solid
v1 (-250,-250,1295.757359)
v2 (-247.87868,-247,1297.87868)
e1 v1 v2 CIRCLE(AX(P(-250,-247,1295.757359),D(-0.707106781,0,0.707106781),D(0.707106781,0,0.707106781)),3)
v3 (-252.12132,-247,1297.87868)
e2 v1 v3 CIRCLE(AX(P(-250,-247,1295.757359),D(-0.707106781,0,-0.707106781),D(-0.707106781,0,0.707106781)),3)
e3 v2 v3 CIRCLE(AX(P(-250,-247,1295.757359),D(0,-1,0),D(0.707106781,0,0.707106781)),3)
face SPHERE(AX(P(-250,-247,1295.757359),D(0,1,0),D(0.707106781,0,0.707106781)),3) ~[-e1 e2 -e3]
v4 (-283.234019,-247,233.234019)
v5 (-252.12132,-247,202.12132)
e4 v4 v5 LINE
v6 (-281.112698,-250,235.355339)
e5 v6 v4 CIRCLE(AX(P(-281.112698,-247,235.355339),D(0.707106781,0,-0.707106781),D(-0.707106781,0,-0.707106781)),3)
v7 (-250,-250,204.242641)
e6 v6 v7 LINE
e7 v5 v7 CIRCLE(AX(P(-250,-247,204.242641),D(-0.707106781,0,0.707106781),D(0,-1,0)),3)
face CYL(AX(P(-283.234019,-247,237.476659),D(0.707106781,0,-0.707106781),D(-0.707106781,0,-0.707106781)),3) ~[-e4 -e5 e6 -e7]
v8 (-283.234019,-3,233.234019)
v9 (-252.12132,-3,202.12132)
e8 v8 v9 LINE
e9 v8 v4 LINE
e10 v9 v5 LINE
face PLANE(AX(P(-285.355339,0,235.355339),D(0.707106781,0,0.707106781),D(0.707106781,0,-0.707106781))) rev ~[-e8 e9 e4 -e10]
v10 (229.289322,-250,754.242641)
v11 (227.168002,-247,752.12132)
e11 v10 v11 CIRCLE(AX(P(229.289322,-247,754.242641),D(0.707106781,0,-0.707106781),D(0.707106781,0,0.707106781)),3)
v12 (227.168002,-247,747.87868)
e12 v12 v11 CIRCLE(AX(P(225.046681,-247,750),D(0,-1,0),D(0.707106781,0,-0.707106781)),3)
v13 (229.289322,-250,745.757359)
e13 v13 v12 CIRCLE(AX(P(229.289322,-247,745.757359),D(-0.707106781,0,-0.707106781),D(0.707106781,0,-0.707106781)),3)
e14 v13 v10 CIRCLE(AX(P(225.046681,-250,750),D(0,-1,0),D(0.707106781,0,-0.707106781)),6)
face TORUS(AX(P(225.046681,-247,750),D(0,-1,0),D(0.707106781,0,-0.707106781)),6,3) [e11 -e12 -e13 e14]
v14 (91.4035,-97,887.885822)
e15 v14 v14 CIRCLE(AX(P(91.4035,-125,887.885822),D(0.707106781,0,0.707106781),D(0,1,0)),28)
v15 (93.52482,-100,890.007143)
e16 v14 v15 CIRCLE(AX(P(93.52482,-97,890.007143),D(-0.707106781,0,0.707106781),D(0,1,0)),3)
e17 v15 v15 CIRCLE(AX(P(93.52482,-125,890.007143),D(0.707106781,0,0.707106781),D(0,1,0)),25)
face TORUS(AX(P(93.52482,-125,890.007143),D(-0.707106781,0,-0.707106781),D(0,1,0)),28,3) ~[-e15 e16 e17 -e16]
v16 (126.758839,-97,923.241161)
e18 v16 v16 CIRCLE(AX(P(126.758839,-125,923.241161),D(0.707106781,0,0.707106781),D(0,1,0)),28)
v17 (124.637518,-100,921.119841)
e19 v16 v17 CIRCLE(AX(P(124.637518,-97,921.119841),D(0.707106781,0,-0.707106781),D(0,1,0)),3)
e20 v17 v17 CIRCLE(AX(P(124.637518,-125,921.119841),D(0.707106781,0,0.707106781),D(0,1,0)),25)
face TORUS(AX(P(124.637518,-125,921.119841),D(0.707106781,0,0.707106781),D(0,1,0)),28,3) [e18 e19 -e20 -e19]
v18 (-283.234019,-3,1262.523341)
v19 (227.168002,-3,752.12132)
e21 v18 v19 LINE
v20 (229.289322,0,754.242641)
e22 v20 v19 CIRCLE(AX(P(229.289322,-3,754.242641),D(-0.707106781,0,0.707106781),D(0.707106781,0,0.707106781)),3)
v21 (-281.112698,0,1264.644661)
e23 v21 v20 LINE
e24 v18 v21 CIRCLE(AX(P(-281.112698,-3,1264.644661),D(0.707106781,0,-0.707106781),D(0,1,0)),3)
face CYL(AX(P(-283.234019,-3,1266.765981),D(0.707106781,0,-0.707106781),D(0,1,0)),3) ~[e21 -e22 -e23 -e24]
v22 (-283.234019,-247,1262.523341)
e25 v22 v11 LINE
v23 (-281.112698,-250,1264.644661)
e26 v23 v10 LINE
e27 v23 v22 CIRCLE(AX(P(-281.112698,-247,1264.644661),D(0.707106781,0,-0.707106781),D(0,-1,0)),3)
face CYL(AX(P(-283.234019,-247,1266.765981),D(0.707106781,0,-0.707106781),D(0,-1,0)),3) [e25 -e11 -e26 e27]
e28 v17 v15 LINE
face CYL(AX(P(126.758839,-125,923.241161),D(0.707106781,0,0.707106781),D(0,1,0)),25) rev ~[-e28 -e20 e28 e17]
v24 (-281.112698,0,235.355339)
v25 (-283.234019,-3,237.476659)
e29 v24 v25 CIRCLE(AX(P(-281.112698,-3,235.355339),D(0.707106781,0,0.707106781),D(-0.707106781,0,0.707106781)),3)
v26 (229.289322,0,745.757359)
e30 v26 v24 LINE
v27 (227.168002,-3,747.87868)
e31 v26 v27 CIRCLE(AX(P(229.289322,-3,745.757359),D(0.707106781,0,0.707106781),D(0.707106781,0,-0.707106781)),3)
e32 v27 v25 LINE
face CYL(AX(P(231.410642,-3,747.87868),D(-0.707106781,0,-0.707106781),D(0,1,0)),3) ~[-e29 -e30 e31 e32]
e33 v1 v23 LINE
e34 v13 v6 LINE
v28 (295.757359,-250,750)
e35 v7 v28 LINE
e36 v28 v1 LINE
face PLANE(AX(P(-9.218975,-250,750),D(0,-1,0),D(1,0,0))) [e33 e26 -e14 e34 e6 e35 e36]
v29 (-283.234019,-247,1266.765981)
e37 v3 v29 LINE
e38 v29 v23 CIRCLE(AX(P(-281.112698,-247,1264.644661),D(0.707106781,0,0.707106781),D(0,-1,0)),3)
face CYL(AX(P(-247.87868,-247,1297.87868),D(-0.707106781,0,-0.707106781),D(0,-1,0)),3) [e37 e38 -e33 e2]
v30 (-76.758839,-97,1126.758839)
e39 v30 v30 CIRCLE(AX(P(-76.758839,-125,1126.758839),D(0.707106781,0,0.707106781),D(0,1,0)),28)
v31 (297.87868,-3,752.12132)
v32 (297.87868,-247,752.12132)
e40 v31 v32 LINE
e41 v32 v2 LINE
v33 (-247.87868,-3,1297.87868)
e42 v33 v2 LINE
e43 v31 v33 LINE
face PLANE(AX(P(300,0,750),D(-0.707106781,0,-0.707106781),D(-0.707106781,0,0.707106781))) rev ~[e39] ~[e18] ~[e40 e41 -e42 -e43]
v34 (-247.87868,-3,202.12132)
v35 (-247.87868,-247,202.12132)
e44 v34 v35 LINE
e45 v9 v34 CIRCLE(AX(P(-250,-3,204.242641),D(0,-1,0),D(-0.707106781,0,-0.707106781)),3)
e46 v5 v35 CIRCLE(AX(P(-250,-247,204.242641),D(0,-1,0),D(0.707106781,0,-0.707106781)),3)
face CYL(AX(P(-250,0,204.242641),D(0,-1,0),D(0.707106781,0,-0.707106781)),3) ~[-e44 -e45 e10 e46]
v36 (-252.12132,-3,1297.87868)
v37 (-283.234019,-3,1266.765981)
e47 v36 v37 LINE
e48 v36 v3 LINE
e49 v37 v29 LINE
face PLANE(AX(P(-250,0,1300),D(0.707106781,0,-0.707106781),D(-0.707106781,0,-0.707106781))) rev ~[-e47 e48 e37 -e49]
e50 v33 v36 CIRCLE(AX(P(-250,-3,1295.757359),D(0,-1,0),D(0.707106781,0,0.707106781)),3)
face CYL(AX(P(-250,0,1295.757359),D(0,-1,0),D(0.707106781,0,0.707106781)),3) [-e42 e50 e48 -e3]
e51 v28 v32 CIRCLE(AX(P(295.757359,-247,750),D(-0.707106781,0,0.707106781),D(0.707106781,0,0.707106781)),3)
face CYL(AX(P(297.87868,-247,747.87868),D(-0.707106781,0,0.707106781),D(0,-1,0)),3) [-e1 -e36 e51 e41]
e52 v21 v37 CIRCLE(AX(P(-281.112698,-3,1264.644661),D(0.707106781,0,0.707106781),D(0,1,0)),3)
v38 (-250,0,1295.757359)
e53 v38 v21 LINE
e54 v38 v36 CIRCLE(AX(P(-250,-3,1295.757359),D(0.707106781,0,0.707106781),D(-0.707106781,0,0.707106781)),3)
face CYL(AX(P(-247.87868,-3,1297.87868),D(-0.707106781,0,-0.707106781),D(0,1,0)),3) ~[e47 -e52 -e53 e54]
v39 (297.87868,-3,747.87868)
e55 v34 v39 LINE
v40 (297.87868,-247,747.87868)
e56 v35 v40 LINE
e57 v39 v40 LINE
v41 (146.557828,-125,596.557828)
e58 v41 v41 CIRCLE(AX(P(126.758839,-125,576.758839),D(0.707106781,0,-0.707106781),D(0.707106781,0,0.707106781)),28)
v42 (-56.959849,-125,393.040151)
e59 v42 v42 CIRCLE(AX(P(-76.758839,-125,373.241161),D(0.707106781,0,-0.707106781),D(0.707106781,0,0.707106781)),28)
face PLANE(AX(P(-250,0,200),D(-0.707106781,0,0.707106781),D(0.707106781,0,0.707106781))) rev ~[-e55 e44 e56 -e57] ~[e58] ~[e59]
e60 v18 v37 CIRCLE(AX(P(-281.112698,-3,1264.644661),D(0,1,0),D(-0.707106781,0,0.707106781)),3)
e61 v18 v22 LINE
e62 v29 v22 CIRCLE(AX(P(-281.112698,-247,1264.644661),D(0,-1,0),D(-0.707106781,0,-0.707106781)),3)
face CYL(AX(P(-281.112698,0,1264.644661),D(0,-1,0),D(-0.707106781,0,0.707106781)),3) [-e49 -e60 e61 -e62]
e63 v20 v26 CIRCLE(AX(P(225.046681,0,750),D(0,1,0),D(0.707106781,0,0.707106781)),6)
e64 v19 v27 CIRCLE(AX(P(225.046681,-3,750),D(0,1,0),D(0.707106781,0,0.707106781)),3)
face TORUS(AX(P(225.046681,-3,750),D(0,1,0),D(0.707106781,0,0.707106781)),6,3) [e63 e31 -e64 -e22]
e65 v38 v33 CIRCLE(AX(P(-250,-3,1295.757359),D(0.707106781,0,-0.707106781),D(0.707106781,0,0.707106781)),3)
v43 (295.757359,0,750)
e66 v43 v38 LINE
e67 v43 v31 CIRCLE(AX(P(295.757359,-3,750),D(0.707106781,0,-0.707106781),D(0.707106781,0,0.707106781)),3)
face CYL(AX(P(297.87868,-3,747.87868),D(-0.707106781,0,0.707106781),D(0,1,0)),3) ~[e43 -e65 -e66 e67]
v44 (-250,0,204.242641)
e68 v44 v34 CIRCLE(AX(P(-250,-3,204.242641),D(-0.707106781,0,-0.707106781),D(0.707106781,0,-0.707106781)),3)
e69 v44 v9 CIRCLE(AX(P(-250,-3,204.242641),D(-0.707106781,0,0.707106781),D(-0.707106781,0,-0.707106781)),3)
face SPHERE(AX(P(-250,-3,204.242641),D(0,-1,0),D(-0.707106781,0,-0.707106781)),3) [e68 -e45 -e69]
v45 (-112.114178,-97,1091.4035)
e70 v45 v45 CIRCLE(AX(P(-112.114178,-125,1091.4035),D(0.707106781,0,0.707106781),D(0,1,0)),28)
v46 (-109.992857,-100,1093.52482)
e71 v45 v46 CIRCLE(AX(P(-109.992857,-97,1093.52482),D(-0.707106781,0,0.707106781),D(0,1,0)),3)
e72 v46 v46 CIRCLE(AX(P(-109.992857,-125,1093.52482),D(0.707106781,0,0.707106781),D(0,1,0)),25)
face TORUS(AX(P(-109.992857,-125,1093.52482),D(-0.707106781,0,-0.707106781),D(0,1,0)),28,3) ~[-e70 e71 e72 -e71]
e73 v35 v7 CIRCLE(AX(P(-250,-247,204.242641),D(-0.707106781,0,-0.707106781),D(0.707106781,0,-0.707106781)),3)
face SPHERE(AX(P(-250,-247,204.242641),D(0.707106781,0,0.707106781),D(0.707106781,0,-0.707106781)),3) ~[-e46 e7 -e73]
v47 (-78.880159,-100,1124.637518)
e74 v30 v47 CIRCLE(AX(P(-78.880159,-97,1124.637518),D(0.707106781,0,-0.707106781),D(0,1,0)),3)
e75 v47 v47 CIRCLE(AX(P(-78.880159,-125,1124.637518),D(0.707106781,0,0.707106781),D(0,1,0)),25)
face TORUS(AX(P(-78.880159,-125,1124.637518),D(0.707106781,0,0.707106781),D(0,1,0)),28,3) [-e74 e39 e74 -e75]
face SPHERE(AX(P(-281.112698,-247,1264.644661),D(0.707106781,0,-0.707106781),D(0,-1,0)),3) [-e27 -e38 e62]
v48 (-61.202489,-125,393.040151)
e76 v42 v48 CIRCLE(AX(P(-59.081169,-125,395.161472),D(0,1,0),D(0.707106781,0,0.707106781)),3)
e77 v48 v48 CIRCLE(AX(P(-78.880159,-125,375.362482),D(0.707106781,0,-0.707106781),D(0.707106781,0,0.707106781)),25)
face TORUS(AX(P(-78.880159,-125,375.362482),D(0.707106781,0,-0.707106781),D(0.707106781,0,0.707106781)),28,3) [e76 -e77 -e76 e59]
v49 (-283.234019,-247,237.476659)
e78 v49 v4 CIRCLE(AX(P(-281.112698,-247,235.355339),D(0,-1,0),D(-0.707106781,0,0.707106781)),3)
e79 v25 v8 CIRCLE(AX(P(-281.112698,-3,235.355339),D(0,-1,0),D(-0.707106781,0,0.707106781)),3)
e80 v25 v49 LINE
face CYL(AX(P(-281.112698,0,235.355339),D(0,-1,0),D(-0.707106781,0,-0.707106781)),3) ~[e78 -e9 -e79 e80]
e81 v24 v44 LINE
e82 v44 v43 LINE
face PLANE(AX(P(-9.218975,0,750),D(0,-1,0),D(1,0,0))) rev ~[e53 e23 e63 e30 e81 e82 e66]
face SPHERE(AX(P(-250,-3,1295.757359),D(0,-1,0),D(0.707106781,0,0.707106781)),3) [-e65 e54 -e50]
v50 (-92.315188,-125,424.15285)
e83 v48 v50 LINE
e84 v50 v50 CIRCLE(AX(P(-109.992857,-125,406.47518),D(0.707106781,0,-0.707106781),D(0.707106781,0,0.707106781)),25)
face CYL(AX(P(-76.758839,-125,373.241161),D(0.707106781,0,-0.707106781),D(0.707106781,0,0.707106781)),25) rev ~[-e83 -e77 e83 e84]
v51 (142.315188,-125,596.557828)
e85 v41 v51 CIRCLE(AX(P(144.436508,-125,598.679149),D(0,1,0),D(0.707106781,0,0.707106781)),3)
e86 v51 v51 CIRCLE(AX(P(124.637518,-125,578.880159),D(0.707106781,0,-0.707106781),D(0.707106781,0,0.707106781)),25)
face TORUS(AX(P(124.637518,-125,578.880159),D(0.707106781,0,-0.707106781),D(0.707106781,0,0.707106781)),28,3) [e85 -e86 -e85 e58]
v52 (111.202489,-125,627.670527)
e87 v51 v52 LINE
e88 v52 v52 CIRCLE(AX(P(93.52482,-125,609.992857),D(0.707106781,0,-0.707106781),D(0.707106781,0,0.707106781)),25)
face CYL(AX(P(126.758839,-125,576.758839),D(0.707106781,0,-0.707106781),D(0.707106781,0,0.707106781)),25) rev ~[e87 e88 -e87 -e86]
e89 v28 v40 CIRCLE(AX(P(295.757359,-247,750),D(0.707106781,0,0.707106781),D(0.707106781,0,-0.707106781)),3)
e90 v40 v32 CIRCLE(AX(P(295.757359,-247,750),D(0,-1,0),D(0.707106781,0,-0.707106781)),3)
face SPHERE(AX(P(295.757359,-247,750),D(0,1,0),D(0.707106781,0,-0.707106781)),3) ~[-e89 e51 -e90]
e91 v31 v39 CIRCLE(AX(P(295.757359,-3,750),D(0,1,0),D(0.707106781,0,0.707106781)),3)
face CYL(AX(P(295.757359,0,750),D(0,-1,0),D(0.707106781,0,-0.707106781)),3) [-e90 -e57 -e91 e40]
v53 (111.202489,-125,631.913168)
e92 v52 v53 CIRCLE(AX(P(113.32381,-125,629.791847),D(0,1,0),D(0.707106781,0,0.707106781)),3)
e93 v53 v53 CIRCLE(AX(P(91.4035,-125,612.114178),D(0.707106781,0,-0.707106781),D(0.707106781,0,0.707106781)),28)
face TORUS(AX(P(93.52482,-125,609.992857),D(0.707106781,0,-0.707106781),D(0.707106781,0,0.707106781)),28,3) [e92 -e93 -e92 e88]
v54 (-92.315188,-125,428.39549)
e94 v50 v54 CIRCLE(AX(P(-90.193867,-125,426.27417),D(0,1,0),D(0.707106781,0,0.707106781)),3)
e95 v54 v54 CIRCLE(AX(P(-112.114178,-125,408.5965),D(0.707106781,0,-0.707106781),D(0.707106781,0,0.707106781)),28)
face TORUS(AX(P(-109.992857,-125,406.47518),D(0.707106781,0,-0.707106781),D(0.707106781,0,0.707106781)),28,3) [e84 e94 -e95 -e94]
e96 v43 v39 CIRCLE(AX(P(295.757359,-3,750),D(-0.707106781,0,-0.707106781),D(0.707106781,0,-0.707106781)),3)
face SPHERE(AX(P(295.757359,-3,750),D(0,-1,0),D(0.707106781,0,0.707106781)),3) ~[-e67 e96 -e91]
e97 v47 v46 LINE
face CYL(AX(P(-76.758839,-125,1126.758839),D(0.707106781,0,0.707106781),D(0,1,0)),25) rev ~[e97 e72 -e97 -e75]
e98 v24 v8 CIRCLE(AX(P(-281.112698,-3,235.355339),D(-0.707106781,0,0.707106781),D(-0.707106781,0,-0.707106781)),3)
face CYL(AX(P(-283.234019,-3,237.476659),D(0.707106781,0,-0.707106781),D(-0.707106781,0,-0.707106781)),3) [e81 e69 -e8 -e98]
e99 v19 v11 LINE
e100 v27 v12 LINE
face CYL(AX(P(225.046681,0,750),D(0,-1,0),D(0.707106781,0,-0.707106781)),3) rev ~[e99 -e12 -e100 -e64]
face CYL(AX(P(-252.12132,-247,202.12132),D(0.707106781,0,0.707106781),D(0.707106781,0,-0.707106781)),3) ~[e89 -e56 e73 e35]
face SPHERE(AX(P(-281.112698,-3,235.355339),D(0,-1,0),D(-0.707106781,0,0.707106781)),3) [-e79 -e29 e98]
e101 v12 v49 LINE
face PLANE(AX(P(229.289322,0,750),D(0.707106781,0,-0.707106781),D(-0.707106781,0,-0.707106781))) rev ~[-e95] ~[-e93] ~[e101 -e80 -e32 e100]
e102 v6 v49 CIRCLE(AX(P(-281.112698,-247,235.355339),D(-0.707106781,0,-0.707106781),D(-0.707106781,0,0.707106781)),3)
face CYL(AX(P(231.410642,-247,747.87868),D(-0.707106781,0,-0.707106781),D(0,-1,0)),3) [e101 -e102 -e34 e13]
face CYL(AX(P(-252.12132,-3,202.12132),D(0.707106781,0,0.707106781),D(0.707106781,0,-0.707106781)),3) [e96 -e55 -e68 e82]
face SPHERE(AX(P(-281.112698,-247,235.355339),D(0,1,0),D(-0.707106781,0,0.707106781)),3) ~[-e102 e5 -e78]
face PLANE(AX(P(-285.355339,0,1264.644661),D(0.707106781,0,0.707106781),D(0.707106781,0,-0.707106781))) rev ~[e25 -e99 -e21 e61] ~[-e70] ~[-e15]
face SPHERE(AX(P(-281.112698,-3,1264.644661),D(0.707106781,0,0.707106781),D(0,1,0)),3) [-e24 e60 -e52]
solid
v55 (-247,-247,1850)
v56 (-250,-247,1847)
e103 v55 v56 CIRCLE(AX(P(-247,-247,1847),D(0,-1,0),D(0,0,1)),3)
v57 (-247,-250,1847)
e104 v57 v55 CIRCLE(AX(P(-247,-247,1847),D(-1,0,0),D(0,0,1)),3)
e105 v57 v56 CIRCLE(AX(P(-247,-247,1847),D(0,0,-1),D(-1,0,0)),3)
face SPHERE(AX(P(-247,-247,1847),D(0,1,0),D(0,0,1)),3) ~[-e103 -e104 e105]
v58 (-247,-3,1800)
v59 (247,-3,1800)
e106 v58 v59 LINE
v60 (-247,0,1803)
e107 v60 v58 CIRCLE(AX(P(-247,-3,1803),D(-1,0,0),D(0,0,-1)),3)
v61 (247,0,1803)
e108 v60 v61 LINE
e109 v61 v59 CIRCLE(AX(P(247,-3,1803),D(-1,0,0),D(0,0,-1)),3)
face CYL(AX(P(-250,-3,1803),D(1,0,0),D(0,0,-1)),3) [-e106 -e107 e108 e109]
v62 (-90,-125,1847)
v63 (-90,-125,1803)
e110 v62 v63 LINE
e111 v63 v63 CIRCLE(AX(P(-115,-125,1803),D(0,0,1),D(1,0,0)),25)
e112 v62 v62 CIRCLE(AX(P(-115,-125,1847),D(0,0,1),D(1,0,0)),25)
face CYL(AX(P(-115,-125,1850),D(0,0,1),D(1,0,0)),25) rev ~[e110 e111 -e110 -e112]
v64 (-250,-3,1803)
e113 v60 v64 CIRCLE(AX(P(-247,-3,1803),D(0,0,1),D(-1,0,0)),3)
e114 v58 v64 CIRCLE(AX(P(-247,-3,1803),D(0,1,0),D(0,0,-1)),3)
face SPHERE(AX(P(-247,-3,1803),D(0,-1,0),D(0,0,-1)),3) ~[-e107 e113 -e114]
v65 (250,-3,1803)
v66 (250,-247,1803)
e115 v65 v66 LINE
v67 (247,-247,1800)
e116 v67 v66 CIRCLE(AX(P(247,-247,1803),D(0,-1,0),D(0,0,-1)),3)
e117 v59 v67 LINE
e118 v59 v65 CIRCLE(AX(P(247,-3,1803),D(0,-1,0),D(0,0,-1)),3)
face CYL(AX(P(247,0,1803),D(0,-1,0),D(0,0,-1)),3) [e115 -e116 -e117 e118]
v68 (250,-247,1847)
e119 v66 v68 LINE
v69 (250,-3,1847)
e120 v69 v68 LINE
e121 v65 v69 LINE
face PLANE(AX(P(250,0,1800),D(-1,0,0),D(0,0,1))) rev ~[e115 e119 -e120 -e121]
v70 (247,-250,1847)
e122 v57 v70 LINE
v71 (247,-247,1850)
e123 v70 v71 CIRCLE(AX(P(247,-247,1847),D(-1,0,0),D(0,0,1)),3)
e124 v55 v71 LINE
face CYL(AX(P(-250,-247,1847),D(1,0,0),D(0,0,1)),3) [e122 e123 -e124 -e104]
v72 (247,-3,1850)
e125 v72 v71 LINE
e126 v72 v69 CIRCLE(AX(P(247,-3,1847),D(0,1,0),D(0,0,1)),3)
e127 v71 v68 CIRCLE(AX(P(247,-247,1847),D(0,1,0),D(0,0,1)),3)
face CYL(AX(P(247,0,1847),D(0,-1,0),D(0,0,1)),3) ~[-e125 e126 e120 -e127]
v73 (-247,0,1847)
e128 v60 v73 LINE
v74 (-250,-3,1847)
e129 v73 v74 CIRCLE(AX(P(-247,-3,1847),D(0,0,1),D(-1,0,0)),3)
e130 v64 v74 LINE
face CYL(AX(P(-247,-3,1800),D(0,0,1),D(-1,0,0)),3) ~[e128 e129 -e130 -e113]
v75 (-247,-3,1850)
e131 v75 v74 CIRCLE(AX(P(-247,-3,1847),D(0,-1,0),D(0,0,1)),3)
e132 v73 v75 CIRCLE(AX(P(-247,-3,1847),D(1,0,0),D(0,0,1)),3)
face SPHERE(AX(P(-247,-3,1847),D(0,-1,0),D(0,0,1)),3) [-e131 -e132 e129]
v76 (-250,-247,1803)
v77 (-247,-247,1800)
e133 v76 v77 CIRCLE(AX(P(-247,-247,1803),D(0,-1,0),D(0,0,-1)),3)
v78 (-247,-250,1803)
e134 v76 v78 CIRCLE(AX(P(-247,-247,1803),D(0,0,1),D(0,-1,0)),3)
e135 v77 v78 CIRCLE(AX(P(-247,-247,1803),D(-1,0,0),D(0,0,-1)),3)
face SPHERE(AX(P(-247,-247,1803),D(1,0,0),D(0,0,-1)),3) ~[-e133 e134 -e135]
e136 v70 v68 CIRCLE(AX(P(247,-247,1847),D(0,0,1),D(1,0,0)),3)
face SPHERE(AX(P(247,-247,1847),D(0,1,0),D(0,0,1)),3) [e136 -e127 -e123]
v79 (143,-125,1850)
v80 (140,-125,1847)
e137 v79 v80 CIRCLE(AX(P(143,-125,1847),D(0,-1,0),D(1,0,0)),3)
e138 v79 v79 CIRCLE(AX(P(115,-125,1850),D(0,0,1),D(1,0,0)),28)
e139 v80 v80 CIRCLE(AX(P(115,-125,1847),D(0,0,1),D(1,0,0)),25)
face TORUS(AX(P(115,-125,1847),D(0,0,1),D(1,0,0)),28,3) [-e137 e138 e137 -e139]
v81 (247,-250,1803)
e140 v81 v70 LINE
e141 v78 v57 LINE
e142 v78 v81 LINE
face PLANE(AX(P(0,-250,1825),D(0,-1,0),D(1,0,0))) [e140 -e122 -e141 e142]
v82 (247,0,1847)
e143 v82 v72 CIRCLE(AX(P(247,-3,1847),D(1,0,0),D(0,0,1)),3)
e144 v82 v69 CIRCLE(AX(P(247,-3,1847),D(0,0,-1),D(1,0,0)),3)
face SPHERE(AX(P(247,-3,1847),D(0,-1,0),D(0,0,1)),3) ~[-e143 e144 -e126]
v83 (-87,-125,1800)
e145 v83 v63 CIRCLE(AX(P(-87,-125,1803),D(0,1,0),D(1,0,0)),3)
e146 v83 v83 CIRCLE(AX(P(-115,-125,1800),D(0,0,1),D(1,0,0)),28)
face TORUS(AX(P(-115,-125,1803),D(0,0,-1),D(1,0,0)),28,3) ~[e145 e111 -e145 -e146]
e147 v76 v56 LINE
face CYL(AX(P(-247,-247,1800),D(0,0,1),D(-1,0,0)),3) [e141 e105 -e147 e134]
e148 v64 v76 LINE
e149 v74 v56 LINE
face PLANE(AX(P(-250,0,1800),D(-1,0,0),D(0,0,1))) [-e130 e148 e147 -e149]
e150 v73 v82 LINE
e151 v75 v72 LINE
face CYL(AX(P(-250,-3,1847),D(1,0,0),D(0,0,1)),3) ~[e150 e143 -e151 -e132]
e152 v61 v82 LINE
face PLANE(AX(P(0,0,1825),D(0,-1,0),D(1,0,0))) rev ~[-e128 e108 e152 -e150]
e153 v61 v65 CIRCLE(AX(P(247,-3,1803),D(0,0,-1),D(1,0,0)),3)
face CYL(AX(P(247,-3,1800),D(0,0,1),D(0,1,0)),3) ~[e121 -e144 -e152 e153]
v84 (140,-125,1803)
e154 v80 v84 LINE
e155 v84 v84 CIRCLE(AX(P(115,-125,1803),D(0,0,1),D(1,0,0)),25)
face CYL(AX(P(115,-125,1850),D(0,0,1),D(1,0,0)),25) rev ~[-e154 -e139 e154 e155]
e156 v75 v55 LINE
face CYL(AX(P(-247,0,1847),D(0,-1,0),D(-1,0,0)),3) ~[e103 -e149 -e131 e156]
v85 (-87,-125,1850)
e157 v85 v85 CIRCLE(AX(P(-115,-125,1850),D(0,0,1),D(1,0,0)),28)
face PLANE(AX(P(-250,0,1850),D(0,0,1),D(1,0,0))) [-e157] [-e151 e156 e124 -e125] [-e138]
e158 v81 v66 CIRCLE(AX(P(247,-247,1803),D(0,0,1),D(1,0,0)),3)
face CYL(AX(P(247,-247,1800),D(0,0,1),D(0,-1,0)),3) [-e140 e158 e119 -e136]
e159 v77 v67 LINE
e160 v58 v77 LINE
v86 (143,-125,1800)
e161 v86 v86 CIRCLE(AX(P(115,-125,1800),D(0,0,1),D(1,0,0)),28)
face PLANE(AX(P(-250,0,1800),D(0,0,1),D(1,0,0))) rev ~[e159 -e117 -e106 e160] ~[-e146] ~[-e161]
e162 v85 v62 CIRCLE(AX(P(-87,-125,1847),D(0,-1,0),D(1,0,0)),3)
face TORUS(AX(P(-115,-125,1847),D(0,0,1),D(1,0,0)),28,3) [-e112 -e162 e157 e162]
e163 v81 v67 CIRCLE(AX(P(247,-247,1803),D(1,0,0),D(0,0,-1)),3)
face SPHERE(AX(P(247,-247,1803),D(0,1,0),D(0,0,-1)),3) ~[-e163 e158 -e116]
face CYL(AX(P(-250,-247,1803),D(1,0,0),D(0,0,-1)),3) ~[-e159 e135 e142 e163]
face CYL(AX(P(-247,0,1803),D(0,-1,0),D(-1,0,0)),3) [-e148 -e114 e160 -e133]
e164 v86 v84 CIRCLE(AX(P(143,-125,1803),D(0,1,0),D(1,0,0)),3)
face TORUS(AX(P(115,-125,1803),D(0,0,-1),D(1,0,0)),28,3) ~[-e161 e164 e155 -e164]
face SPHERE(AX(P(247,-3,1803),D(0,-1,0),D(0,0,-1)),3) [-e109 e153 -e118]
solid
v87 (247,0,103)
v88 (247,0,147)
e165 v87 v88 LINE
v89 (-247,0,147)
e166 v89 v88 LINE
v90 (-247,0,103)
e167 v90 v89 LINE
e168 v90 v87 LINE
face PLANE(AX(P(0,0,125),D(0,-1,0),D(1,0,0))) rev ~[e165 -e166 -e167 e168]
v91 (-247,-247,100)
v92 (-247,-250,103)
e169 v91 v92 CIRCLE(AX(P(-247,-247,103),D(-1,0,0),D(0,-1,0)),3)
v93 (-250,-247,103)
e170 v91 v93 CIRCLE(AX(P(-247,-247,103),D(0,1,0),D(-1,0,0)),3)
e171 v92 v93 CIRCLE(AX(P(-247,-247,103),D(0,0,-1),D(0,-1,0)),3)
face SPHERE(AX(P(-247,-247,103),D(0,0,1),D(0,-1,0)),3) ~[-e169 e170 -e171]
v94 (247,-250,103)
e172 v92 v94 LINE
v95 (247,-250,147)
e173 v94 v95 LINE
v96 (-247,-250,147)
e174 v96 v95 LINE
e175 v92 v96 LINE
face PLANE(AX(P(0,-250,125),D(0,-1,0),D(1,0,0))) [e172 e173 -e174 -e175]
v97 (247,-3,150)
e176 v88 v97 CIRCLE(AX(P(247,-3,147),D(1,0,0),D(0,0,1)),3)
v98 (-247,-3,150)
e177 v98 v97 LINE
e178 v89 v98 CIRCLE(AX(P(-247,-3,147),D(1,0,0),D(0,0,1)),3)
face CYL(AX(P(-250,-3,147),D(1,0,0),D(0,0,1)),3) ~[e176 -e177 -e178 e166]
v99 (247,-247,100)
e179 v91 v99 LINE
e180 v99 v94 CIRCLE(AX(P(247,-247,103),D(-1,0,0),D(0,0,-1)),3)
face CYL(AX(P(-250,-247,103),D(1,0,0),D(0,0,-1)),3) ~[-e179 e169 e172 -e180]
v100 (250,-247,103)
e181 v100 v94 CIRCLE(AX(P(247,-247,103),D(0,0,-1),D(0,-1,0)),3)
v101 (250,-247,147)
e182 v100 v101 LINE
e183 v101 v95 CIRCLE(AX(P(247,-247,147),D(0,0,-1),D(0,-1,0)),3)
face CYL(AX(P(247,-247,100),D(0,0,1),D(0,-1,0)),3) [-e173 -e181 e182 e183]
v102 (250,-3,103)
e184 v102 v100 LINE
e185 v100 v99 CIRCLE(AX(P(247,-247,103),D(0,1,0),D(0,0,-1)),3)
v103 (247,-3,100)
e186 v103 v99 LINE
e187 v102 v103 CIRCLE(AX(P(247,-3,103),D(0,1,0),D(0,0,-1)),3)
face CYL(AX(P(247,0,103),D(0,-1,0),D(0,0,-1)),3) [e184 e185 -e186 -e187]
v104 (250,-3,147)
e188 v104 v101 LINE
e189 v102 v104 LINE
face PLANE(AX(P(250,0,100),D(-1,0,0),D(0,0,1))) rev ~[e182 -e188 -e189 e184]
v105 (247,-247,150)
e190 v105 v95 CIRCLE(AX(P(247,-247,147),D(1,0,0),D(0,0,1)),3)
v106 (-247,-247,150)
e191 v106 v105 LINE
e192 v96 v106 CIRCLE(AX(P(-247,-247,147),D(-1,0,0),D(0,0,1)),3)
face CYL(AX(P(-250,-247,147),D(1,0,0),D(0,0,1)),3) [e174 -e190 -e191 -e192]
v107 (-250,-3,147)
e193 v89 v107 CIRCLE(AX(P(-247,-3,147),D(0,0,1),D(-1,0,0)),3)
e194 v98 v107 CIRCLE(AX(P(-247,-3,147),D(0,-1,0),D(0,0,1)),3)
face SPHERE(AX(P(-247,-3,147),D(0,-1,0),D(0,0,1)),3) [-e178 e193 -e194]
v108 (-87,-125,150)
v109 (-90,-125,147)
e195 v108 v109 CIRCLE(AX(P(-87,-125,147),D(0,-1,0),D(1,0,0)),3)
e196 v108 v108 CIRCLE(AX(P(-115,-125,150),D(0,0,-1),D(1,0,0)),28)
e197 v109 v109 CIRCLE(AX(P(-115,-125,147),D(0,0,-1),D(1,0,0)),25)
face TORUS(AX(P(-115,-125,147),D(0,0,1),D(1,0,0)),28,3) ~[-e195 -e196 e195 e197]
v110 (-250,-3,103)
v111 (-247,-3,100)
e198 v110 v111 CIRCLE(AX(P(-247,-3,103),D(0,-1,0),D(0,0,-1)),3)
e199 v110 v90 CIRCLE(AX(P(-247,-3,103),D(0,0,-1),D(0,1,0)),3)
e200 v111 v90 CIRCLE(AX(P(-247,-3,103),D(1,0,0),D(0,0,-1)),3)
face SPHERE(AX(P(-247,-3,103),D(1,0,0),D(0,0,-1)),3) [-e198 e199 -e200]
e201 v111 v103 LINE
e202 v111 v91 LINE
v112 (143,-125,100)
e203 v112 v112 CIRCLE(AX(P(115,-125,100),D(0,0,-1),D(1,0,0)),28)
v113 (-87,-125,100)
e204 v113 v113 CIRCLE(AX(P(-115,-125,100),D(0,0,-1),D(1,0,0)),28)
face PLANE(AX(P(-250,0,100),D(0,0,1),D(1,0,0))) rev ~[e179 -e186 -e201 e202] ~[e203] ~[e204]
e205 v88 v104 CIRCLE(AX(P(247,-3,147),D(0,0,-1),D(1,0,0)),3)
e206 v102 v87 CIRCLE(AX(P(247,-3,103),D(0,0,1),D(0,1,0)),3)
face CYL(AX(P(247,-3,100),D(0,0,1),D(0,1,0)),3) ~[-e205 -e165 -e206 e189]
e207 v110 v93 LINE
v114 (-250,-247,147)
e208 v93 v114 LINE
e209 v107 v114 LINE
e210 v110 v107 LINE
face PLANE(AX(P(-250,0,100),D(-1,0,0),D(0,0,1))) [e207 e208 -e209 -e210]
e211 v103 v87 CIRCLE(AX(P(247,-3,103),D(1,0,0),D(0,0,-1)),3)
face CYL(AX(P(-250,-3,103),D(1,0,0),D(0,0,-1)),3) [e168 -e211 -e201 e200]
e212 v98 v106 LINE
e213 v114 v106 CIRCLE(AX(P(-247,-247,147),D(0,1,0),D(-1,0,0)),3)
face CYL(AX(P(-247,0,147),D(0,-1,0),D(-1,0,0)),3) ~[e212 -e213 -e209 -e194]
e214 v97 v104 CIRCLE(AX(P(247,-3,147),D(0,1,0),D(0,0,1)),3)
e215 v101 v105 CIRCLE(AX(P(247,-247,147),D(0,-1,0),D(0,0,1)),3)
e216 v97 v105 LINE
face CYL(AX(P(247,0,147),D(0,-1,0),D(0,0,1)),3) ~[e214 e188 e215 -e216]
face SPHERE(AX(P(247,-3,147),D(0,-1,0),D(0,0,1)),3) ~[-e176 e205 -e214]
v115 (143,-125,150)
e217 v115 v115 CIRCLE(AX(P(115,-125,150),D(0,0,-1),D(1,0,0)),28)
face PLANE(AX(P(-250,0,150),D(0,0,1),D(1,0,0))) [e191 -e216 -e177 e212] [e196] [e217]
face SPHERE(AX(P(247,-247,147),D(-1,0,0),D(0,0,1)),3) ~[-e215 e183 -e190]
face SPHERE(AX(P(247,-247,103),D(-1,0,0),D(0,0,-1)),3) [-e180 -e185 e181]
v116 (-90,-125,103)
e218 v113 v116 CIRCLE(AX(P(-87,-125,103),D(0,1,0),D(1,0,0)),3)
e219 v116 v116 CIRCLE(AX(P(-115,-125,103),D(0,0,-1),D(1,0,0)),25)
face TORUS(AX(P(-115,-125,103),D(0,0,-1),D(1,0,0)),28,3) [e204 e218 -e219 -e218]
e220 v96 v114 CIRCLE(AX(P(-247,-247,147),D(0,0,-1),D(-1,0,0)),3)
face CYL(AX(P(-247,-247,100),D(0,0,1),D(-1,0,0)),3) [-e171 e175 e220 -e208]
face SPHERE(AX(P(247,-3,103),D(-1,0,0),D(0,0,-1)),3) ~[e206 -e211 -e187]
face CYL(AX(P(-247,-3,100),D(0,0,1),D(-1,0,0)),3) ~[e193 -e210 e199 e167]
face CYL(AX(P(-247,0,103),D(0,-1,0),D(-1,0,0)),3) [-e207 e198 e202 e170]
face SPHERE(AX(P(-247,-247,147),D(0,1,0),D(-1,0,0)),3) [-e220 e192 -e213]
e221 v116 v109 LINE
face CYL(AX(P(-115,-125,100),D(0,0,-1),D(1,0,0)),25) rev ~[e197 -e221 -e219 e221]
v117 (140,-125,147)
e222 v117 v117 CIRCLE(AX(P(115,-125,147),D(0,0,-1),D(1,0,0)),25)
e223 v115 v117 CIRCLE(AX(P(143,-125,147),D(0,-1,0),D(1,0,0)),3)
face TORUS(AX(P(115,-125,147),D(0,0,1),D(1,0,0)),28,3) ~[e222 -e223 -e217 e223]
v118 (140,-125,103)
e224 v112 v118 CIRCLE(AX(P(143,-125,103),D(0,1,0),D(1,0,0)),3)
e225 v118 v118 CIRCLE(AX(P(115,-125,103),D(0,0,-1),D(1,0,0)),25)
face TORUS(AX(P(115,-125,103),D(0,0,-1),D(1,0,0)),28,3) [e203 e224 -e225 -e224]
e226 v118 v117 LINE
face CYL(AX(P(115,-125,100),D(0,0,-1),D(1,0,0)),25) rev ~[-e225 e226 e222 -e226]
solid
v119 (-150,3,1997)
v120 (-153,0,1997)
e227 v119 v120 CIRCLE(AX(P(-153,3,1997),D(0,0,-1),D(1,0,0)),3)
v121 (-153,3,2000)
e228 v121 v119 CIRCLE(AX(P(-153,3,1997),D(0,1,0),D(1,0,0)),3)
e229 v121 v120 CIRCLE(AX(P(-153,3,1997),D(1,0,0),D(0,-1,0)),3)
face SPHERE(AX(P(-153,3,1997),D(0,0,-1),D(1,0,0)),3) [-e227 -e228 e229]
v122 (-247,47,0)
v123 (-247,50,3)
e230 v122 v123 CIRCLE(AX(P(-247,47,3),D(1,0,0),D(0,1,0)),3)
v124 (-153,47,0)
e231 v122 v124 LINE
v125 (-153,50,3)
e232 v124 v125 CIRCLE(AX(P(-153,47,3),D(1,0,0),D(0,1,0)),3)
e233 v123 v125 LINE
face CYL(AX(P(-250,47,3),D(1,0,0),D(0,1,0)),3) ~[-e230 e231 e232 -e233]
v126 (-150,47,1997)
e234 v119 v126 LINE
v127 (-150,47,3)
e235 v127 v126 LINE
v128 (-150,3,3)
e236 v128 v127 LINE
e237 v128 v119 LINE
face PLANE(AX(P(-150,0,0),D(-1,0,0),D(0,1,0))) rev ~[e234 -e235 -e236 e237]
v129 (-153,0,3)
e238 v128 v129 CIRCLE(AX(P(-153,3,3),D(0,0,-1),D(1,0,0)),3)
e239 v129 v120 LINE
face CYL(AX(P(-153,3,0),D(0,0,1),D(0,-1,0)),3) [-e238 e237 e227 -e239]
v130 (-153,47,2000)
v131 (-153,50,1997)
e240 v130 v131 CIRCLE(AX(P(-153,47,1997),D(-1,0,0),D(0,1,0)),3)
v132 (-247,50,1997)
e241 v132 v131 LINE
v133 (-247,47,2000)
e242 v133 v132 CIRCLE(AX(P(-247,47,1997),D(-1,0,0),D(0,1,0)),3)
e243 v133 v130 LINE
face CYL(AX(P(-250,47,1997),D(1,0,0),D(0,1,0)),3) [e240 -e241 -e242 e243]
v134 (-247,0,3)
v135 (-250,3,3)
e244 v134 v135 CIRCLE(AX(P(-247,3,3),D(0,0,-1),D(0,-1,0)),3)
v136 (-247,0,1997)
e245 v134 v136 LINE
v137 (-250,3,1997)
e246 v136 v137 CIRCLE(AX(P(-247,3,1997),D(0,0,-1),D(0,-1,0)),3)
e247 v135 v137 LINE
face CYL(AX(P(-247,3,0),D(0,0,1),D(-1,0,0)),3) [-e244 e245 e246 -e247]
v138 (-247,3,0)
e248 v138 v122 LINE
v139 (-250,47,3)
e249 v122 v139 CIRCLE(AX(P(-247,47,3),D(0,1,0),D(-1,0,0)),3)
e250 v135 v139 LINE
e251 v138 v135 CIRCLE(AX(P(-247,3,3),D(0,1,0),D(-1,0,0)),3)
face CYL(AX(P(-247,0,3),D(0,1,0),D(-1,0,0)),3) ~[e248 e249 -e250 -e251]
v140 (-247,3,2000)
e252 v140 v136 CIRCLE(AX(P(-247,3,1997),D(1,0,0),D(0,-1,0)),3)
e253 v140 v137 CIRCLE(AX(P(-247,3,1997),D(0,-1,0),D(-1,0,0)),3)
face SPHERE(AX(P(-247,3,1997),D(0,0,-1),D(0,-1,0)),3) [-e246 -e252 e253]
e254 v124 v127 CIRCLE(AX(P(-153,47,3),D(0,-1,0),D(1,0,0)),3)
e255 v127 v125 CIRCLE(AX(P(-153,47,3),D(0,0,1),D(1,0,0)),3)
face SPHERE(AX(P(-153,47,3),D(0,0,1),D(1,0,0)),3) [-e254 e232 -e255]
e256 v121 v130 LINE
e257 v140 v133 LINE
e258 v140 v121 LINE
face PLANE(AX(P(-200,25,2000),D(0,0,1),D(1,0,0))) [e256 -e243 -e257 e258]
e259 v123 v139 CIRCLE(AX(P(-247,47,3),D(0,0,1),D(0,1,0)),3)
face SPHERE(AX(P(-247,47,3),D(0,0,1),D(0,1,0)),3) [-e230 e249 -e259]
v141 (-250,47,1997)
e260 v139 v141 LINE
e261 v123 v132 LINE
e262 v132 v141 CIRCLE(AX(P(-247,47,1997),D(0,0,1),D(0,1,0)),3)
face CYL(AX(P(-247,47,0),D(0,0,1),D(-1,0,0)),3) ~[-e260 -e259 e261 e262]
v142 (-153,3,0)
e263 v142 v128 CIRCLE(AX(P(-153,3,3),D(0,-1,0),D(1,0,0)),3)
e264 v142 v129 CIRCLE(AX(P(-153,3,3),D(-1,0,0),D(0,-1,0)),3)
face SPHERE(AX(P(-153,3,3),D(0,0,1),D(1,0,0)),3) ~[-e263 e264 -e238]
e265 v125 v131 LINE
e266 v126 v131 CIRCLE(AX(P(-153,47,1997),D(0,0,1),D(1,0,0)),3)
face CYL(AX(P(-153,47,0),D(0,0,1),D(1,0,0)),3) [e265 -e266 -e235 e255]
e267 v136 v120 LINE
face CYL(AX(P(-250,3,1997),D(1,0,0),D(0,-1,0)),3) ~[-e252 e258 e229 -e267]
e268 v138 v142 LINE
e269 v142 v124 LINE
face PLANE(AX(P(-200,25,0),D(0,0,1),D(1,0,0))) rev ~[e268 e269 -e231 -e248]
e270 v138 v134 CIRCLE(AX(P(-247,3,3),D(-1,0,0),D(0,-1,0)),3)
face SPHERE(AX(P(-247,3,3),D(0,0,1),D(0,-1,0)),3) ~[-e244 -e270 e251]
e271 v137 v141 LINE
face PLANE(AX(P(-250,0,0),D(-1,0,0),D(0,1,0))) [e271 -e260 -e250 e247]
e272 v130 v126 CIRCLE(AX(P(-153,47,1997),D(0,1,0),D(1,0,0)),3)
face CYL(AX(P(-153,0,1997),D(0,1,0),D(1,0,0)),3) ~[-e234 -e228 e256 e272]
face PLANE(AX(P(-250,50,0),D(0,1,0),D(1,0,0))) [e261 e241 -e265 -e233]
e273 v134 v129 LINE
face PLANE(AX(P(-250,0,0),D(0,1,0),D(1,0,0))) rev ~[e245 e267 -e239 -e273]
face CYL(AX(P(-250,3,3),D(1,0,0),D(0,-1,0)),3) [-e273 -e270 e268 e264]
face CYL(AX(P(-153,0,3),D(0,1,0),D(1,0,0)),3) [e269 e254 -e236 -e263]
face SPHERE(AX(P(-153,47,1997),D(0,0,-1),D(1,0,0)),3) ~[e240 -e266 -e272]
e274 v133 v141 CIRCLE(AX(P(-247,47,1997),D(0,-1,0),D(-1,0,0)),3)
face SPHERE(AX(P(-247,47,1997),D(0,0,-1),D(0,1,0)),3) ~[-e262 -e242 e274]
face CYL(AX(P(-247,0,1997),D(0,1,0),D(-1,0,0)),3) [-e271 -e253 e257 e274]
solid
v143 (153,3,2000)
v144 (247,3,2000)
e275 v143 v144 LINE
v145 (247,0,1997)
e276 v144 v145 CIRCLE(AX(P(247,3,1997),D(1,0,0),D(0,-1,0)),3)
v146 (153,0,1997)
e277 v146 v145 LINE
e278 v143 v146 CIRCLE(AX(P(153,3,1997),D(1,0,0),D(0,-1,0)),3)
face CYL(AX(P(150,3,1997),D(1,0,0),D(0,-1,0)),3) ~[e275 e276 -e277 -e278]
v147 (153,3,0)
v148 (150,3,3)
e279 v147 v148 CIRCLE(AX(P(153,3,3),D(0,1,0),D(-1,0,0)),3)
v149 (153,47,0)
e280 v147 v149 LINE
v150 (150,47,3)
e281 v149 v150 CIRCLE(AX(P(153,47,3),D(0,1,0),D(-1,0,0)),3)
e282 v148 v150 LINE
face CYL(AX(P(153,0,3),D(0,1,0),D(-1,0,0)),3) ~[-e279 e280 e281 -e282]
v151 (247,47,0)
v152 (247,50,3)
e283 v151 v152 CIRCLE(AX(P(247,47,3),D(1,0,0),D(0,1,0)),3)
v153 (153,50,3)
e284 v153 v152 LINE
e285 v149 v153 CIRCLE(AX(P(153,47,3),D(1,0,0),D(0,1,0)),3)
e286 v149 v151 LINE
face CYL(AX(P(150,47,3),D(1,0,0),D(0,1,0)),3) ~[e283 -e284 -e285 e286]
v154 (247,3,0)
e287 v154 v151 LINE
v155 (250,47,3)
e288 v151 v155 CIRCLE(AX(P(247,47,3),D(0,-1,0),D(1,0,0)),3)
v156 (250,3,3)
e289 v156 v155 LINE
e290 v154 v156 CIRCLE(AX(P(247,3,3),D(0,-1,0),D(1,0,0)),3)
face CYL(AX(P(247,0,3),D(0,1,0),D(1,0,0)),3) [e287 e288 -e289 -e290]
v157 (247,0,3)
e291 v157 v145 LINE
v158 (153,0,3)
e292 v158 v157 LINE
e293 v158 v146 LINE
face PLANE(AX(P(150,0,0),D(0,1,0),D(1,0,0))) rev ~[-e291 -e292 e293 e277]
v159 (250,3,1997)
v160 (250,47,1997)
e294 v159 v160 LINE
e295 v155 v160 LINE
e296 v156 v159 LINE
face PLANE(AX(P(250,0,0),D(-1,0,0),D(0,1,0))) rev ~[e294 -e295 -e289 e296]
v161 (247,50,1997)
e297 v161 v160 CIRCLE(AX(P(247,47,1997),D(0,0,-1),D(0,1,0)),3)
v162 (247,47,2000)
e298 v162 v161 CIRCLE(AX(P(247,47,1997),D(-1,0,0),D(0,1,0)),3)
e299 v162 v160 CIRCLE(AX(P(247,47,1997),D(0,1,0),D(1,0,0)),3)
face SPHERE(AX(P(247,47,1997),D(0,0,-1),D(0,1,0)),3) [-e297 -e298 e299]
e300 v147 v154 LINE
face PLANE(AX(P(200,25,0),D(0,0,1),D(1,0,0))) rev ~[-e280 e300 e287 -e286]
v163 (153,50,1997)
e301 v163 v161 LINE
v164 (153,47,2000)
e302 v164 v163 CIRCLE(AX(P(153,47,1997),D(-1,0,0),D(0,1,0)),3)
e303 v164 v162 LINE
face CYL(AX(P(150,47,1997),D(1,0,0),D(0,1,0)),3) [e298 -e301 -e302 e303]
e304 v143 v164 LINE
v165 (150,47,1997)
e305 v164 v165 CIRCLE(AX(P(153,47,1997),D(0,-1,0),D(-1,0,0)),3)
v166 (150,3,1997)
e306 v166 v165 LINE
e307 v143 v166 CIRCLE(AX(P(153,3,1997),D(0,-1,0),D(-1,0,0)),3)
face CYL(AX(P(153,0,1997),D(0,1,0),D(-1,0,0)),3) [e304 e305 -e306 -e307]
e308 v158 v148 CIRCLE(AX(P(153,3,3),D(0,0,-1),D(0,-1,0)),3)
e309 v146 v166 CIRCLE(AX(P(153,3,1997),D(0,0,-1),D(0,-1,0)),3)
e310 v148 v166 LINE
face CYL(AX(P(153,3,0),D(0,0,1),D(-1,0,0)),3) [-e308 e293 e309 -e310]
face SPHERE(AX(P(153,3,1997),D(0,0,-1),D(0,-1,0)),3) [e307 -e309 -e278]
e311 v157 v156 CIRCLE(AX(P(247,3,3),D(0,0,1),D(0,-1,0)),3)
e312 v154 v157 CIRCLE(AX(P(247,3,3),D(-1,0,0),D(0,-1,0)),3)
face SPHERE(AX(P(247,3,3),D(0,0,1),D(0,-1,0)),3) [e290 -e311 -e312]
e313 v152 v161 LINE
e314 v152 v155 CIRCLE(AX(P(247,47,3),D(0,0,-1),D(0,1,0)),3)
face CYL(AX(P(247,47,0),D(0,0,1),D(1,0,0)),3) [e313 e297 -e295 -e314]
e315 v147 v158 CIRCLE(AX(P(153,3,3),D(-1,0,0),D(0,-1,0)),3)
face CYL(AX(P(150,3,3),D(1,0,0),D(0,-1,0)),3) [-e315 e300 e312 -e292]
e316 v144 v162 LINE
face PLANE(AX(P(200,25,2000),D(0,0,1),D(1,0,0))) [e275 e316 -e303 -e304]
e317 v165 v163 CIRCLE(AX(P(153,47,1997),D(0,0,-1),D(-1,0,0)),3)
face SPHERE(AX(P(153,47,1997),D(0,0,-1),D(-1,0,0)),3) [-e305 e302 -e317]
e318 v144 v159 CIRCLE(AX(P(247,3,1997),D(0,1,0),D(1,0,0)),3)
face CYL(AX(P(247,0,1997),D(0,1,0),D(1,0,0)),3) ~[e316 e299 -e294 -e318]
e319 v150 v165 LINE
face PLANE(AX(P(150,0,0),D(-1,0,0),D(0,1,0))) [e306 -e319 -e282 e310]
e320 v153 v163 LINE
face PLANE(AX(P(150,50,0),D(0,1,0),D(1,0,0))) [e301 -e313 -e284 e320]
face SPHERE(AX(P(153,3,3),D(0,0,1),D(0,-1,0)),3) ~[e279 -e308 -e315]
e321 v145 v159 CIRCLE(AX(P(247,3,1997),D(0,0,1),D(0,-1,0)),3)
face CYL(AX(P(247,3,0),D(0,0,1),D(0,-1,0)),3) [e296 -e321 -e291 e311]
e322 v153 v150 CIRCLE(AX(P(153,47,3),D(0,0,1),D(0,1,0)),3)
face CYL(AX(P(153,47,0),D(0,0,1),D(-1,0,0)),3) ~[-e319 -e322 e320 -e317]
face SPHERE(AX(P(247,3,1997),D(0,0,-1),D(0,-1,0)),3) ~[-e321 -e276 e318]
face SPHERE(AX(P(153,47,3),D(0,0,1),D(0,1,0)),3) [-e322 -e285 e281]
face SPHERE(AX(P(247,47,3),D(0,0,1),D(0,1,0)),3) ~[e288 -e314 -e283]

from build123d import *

# Parameters (mm, degrees)
F0_W      = 100
F0_H      = 50
F1_DEPTH  = 2000
F2_W      = 500
F2_H      = 50
F3_DEPTH  = 250
F4_R      = 25
F5_DEPTH  = 128
F6_R      = 25
F7_DEPTH  = 94
F8_R      = 25
F9_DEPTH  = 190
F10_R     = 25
F11_DEPTH = 154
F12_R     = 3
F12_2_R   = 3
F12_3_R   = 3


with BuildPart() as f1:
    # F0 (on Top) → F1 (new body)
    with BuildSketch(Plane.XY):
        with Locations((-200, 25)):
            Rectangle(F0_W, F0_H)
    extrude(amount=F1_DEPTH)

    # F12
    f12_edges = [f1.edges().sort_by_distance(p)[0] for p in [
        (-250, 0, 1000),
        (-150, 0, 1000),
        (-250, 50, 1000),
        (-150, 50, 1000),
        (-150, 25, 2000),
        (-200, 0, 2000),
        (-200, 50, 2000),
        (-250, 25, 2000),
        (-150, 25, 0),
        (-200, 0, 0),
        (-200, 50, 0),
        (-250, 25, 0),
    ]]
    fillet(f12_edges, radius=F12_R)


with BuildPart() as f1b:
    # F0 (on Top) → F1, piece 2 (new body)
    with BuildSketch(Plane.XY):
        with Locations((200, 25)):
            Rectangle(F0_W, F0_H)
    extrude(amount=F1_DEPTH)

    # F12#2
    f12_2_edges = [f1b.edges().sort_by_distance(p)[0] for p in [
        (250, 0, 1000),
        (150, 0, 1000),
        (250, 50, 1000),
        (150, 50, 1000),
        (200, 0, 2000),
        (200, 0, 0),
        (150, 25, 2000),
        (200, 50, 2000),
        (250, 25, 2000),
        (200, 50, 0),
        (250, 25, 0),
        (150, 25, 0),
    ]]
    fillet(f12_2_edges, radius=F12_2_R)


with BuildPart() as f3:
    # F2 (on face) → F3 (new body)
    with BuildSketch(Plane.XZ):
        with Locations((0, 1825)):
            Rectangle(F2_W, F2_H)
        with Locations((0, 125)):
            Rectangle(F2_W, F2_H)
        Polygon((-250, 200), (300, 750), (-250, 1300), (-285.3553390593, 1264.6446609407), (229.2893218813, 750), (-285.3553390593, 235.3553390593), align=None)
    extrude(amount=F3_DEPTH)

    # F4 (on face) → F5 (cut)
    with BuildSketch(Plane.XY.offset(1850)):
        with Locations((-115, -125)):
            Circle(F4_R)
        with Locations((115, -125)):
            Circle(F4_R)
    extrude(amount=-F5_DEPTH, mode=Mode.SUBTRACT)

    # F6 (on face) → F7 (cut)
    with BuildSketch(Plane(origin=(0, 0, 100), x_dir=(1, 0, 0), z_dir=(0, 0, -1))):
        with Locations((-115, 125)):
            Circle(F6_R)
        with Locations((115, 125)):
            Circle(F6_R)
    extrude(amount=-F7_DEPTH, mode=Mode.SUBTRACT)

    # F8 (on face) → F9 (cut)
    with BuildSketch(Plane(origin=(525, 0, 525), x_dir=(0, 1, 0), z_dir=(0.7071067812, 0, 0.7071067812))):
        with Locations((-125, 851.0155108391)):
            Circle(F8_R)
        with Locations((-125, 563.1980515339)):
            Circle(F8_R)
    extrude(amount=-F9_DEPTH, mode=Mode.SUBTRACT)

    # F10 (on face) → F11 (cut)
    with BuildSketch(Plane(origin=(-225, 0, 225), x_dir=(0.7071067812, 0, 0.7071067812), z_dir=(0.7071067812, 0, -0.7071067812))):
        with Locations((497.4621202459, 125)):
            Circle(F10_R)
        with Locations((209.6446609407, 125)):
            Circle(F10_R)
    extrude(amount=-F11_DEPTH, mode=Mode.SUBTRACT)

    # F12#3
    f12_3_edges = [f3.edges().sort_by_distance(p)[0] for p in [
        (90, -125, 1850),
        (-140, -125, 1850),
        (250, -125, 1800),
        (250, -125, 1850),
        (-250, -125, 1850),
        (0, -250, 1800),
        (0, -250, 1850),
        (0, 0, 1850),
        (-250, -125, 150),
        (-250, -125, 1300),
        (300, -125, 750),
        (-129.791847, -125, 390.918831),
        (-285.355339, -125, 235.355339),
        (25, -250, 475),
        (-28.033009, -250, 492.67767),
        (-28.033009, -250, 1007.32233),
        (25, -250, 1025),
        (-28.033009, 0, 492.67767),
        (25, 0, 1025),
        (-76.758839, -150, 1126.758839),
        (126.758839, -150, 923.241161),
        (-250, -125, 1800),
        (90, -125, 1800),
        (250, -250, 1825),
        (-250, -250, 1825),
        (0, 0, 1800),
        (250, 0, 1825),
        (-250, 0, 1825),
        (-140, -125, 100),
        (-250, -250, 125),
        (0, -250, 150),
        (-140, -125, 150),
        (0, 0, 100),
        (90, -125, 150),
        (0, -250, 100),
        (250, -125, 100),
        (250, -125, 150),
        (0, 0, 150),
        (-250, -125, 200),
        (-267.67767, -250, 1282.32233),
        (-267.67767, 0, 217.67767),
        (109.081169, -125, 559.081169),
        (-267.67767, -250, 217.67767),
        (229.289322, -125, 750),
        (-267.67767, 0, 1282.32233),
        (-28.033009, 0, 1007.32233),
        (25, 0, 475),
        (91.4035, -150, 887.885822),
        (73.72583, -125, 594.436508),
        (-140, -125, 1800),
        (90, -125, 100),
        (-250, -125, 100),
        (250, -250, 125),
        (-250, 0, 125),
        (250, 0, 125),
        (-285.355339, -125, 1264.644661),
        (-112.114178, -150, 1091.4035),
        (-94.436508, -125, 355.563492),
    ]]
    fillet(f12_3_edges, radius=F12_3_R)


solid = Compound([f1.part, f1b.part, f3.part])
